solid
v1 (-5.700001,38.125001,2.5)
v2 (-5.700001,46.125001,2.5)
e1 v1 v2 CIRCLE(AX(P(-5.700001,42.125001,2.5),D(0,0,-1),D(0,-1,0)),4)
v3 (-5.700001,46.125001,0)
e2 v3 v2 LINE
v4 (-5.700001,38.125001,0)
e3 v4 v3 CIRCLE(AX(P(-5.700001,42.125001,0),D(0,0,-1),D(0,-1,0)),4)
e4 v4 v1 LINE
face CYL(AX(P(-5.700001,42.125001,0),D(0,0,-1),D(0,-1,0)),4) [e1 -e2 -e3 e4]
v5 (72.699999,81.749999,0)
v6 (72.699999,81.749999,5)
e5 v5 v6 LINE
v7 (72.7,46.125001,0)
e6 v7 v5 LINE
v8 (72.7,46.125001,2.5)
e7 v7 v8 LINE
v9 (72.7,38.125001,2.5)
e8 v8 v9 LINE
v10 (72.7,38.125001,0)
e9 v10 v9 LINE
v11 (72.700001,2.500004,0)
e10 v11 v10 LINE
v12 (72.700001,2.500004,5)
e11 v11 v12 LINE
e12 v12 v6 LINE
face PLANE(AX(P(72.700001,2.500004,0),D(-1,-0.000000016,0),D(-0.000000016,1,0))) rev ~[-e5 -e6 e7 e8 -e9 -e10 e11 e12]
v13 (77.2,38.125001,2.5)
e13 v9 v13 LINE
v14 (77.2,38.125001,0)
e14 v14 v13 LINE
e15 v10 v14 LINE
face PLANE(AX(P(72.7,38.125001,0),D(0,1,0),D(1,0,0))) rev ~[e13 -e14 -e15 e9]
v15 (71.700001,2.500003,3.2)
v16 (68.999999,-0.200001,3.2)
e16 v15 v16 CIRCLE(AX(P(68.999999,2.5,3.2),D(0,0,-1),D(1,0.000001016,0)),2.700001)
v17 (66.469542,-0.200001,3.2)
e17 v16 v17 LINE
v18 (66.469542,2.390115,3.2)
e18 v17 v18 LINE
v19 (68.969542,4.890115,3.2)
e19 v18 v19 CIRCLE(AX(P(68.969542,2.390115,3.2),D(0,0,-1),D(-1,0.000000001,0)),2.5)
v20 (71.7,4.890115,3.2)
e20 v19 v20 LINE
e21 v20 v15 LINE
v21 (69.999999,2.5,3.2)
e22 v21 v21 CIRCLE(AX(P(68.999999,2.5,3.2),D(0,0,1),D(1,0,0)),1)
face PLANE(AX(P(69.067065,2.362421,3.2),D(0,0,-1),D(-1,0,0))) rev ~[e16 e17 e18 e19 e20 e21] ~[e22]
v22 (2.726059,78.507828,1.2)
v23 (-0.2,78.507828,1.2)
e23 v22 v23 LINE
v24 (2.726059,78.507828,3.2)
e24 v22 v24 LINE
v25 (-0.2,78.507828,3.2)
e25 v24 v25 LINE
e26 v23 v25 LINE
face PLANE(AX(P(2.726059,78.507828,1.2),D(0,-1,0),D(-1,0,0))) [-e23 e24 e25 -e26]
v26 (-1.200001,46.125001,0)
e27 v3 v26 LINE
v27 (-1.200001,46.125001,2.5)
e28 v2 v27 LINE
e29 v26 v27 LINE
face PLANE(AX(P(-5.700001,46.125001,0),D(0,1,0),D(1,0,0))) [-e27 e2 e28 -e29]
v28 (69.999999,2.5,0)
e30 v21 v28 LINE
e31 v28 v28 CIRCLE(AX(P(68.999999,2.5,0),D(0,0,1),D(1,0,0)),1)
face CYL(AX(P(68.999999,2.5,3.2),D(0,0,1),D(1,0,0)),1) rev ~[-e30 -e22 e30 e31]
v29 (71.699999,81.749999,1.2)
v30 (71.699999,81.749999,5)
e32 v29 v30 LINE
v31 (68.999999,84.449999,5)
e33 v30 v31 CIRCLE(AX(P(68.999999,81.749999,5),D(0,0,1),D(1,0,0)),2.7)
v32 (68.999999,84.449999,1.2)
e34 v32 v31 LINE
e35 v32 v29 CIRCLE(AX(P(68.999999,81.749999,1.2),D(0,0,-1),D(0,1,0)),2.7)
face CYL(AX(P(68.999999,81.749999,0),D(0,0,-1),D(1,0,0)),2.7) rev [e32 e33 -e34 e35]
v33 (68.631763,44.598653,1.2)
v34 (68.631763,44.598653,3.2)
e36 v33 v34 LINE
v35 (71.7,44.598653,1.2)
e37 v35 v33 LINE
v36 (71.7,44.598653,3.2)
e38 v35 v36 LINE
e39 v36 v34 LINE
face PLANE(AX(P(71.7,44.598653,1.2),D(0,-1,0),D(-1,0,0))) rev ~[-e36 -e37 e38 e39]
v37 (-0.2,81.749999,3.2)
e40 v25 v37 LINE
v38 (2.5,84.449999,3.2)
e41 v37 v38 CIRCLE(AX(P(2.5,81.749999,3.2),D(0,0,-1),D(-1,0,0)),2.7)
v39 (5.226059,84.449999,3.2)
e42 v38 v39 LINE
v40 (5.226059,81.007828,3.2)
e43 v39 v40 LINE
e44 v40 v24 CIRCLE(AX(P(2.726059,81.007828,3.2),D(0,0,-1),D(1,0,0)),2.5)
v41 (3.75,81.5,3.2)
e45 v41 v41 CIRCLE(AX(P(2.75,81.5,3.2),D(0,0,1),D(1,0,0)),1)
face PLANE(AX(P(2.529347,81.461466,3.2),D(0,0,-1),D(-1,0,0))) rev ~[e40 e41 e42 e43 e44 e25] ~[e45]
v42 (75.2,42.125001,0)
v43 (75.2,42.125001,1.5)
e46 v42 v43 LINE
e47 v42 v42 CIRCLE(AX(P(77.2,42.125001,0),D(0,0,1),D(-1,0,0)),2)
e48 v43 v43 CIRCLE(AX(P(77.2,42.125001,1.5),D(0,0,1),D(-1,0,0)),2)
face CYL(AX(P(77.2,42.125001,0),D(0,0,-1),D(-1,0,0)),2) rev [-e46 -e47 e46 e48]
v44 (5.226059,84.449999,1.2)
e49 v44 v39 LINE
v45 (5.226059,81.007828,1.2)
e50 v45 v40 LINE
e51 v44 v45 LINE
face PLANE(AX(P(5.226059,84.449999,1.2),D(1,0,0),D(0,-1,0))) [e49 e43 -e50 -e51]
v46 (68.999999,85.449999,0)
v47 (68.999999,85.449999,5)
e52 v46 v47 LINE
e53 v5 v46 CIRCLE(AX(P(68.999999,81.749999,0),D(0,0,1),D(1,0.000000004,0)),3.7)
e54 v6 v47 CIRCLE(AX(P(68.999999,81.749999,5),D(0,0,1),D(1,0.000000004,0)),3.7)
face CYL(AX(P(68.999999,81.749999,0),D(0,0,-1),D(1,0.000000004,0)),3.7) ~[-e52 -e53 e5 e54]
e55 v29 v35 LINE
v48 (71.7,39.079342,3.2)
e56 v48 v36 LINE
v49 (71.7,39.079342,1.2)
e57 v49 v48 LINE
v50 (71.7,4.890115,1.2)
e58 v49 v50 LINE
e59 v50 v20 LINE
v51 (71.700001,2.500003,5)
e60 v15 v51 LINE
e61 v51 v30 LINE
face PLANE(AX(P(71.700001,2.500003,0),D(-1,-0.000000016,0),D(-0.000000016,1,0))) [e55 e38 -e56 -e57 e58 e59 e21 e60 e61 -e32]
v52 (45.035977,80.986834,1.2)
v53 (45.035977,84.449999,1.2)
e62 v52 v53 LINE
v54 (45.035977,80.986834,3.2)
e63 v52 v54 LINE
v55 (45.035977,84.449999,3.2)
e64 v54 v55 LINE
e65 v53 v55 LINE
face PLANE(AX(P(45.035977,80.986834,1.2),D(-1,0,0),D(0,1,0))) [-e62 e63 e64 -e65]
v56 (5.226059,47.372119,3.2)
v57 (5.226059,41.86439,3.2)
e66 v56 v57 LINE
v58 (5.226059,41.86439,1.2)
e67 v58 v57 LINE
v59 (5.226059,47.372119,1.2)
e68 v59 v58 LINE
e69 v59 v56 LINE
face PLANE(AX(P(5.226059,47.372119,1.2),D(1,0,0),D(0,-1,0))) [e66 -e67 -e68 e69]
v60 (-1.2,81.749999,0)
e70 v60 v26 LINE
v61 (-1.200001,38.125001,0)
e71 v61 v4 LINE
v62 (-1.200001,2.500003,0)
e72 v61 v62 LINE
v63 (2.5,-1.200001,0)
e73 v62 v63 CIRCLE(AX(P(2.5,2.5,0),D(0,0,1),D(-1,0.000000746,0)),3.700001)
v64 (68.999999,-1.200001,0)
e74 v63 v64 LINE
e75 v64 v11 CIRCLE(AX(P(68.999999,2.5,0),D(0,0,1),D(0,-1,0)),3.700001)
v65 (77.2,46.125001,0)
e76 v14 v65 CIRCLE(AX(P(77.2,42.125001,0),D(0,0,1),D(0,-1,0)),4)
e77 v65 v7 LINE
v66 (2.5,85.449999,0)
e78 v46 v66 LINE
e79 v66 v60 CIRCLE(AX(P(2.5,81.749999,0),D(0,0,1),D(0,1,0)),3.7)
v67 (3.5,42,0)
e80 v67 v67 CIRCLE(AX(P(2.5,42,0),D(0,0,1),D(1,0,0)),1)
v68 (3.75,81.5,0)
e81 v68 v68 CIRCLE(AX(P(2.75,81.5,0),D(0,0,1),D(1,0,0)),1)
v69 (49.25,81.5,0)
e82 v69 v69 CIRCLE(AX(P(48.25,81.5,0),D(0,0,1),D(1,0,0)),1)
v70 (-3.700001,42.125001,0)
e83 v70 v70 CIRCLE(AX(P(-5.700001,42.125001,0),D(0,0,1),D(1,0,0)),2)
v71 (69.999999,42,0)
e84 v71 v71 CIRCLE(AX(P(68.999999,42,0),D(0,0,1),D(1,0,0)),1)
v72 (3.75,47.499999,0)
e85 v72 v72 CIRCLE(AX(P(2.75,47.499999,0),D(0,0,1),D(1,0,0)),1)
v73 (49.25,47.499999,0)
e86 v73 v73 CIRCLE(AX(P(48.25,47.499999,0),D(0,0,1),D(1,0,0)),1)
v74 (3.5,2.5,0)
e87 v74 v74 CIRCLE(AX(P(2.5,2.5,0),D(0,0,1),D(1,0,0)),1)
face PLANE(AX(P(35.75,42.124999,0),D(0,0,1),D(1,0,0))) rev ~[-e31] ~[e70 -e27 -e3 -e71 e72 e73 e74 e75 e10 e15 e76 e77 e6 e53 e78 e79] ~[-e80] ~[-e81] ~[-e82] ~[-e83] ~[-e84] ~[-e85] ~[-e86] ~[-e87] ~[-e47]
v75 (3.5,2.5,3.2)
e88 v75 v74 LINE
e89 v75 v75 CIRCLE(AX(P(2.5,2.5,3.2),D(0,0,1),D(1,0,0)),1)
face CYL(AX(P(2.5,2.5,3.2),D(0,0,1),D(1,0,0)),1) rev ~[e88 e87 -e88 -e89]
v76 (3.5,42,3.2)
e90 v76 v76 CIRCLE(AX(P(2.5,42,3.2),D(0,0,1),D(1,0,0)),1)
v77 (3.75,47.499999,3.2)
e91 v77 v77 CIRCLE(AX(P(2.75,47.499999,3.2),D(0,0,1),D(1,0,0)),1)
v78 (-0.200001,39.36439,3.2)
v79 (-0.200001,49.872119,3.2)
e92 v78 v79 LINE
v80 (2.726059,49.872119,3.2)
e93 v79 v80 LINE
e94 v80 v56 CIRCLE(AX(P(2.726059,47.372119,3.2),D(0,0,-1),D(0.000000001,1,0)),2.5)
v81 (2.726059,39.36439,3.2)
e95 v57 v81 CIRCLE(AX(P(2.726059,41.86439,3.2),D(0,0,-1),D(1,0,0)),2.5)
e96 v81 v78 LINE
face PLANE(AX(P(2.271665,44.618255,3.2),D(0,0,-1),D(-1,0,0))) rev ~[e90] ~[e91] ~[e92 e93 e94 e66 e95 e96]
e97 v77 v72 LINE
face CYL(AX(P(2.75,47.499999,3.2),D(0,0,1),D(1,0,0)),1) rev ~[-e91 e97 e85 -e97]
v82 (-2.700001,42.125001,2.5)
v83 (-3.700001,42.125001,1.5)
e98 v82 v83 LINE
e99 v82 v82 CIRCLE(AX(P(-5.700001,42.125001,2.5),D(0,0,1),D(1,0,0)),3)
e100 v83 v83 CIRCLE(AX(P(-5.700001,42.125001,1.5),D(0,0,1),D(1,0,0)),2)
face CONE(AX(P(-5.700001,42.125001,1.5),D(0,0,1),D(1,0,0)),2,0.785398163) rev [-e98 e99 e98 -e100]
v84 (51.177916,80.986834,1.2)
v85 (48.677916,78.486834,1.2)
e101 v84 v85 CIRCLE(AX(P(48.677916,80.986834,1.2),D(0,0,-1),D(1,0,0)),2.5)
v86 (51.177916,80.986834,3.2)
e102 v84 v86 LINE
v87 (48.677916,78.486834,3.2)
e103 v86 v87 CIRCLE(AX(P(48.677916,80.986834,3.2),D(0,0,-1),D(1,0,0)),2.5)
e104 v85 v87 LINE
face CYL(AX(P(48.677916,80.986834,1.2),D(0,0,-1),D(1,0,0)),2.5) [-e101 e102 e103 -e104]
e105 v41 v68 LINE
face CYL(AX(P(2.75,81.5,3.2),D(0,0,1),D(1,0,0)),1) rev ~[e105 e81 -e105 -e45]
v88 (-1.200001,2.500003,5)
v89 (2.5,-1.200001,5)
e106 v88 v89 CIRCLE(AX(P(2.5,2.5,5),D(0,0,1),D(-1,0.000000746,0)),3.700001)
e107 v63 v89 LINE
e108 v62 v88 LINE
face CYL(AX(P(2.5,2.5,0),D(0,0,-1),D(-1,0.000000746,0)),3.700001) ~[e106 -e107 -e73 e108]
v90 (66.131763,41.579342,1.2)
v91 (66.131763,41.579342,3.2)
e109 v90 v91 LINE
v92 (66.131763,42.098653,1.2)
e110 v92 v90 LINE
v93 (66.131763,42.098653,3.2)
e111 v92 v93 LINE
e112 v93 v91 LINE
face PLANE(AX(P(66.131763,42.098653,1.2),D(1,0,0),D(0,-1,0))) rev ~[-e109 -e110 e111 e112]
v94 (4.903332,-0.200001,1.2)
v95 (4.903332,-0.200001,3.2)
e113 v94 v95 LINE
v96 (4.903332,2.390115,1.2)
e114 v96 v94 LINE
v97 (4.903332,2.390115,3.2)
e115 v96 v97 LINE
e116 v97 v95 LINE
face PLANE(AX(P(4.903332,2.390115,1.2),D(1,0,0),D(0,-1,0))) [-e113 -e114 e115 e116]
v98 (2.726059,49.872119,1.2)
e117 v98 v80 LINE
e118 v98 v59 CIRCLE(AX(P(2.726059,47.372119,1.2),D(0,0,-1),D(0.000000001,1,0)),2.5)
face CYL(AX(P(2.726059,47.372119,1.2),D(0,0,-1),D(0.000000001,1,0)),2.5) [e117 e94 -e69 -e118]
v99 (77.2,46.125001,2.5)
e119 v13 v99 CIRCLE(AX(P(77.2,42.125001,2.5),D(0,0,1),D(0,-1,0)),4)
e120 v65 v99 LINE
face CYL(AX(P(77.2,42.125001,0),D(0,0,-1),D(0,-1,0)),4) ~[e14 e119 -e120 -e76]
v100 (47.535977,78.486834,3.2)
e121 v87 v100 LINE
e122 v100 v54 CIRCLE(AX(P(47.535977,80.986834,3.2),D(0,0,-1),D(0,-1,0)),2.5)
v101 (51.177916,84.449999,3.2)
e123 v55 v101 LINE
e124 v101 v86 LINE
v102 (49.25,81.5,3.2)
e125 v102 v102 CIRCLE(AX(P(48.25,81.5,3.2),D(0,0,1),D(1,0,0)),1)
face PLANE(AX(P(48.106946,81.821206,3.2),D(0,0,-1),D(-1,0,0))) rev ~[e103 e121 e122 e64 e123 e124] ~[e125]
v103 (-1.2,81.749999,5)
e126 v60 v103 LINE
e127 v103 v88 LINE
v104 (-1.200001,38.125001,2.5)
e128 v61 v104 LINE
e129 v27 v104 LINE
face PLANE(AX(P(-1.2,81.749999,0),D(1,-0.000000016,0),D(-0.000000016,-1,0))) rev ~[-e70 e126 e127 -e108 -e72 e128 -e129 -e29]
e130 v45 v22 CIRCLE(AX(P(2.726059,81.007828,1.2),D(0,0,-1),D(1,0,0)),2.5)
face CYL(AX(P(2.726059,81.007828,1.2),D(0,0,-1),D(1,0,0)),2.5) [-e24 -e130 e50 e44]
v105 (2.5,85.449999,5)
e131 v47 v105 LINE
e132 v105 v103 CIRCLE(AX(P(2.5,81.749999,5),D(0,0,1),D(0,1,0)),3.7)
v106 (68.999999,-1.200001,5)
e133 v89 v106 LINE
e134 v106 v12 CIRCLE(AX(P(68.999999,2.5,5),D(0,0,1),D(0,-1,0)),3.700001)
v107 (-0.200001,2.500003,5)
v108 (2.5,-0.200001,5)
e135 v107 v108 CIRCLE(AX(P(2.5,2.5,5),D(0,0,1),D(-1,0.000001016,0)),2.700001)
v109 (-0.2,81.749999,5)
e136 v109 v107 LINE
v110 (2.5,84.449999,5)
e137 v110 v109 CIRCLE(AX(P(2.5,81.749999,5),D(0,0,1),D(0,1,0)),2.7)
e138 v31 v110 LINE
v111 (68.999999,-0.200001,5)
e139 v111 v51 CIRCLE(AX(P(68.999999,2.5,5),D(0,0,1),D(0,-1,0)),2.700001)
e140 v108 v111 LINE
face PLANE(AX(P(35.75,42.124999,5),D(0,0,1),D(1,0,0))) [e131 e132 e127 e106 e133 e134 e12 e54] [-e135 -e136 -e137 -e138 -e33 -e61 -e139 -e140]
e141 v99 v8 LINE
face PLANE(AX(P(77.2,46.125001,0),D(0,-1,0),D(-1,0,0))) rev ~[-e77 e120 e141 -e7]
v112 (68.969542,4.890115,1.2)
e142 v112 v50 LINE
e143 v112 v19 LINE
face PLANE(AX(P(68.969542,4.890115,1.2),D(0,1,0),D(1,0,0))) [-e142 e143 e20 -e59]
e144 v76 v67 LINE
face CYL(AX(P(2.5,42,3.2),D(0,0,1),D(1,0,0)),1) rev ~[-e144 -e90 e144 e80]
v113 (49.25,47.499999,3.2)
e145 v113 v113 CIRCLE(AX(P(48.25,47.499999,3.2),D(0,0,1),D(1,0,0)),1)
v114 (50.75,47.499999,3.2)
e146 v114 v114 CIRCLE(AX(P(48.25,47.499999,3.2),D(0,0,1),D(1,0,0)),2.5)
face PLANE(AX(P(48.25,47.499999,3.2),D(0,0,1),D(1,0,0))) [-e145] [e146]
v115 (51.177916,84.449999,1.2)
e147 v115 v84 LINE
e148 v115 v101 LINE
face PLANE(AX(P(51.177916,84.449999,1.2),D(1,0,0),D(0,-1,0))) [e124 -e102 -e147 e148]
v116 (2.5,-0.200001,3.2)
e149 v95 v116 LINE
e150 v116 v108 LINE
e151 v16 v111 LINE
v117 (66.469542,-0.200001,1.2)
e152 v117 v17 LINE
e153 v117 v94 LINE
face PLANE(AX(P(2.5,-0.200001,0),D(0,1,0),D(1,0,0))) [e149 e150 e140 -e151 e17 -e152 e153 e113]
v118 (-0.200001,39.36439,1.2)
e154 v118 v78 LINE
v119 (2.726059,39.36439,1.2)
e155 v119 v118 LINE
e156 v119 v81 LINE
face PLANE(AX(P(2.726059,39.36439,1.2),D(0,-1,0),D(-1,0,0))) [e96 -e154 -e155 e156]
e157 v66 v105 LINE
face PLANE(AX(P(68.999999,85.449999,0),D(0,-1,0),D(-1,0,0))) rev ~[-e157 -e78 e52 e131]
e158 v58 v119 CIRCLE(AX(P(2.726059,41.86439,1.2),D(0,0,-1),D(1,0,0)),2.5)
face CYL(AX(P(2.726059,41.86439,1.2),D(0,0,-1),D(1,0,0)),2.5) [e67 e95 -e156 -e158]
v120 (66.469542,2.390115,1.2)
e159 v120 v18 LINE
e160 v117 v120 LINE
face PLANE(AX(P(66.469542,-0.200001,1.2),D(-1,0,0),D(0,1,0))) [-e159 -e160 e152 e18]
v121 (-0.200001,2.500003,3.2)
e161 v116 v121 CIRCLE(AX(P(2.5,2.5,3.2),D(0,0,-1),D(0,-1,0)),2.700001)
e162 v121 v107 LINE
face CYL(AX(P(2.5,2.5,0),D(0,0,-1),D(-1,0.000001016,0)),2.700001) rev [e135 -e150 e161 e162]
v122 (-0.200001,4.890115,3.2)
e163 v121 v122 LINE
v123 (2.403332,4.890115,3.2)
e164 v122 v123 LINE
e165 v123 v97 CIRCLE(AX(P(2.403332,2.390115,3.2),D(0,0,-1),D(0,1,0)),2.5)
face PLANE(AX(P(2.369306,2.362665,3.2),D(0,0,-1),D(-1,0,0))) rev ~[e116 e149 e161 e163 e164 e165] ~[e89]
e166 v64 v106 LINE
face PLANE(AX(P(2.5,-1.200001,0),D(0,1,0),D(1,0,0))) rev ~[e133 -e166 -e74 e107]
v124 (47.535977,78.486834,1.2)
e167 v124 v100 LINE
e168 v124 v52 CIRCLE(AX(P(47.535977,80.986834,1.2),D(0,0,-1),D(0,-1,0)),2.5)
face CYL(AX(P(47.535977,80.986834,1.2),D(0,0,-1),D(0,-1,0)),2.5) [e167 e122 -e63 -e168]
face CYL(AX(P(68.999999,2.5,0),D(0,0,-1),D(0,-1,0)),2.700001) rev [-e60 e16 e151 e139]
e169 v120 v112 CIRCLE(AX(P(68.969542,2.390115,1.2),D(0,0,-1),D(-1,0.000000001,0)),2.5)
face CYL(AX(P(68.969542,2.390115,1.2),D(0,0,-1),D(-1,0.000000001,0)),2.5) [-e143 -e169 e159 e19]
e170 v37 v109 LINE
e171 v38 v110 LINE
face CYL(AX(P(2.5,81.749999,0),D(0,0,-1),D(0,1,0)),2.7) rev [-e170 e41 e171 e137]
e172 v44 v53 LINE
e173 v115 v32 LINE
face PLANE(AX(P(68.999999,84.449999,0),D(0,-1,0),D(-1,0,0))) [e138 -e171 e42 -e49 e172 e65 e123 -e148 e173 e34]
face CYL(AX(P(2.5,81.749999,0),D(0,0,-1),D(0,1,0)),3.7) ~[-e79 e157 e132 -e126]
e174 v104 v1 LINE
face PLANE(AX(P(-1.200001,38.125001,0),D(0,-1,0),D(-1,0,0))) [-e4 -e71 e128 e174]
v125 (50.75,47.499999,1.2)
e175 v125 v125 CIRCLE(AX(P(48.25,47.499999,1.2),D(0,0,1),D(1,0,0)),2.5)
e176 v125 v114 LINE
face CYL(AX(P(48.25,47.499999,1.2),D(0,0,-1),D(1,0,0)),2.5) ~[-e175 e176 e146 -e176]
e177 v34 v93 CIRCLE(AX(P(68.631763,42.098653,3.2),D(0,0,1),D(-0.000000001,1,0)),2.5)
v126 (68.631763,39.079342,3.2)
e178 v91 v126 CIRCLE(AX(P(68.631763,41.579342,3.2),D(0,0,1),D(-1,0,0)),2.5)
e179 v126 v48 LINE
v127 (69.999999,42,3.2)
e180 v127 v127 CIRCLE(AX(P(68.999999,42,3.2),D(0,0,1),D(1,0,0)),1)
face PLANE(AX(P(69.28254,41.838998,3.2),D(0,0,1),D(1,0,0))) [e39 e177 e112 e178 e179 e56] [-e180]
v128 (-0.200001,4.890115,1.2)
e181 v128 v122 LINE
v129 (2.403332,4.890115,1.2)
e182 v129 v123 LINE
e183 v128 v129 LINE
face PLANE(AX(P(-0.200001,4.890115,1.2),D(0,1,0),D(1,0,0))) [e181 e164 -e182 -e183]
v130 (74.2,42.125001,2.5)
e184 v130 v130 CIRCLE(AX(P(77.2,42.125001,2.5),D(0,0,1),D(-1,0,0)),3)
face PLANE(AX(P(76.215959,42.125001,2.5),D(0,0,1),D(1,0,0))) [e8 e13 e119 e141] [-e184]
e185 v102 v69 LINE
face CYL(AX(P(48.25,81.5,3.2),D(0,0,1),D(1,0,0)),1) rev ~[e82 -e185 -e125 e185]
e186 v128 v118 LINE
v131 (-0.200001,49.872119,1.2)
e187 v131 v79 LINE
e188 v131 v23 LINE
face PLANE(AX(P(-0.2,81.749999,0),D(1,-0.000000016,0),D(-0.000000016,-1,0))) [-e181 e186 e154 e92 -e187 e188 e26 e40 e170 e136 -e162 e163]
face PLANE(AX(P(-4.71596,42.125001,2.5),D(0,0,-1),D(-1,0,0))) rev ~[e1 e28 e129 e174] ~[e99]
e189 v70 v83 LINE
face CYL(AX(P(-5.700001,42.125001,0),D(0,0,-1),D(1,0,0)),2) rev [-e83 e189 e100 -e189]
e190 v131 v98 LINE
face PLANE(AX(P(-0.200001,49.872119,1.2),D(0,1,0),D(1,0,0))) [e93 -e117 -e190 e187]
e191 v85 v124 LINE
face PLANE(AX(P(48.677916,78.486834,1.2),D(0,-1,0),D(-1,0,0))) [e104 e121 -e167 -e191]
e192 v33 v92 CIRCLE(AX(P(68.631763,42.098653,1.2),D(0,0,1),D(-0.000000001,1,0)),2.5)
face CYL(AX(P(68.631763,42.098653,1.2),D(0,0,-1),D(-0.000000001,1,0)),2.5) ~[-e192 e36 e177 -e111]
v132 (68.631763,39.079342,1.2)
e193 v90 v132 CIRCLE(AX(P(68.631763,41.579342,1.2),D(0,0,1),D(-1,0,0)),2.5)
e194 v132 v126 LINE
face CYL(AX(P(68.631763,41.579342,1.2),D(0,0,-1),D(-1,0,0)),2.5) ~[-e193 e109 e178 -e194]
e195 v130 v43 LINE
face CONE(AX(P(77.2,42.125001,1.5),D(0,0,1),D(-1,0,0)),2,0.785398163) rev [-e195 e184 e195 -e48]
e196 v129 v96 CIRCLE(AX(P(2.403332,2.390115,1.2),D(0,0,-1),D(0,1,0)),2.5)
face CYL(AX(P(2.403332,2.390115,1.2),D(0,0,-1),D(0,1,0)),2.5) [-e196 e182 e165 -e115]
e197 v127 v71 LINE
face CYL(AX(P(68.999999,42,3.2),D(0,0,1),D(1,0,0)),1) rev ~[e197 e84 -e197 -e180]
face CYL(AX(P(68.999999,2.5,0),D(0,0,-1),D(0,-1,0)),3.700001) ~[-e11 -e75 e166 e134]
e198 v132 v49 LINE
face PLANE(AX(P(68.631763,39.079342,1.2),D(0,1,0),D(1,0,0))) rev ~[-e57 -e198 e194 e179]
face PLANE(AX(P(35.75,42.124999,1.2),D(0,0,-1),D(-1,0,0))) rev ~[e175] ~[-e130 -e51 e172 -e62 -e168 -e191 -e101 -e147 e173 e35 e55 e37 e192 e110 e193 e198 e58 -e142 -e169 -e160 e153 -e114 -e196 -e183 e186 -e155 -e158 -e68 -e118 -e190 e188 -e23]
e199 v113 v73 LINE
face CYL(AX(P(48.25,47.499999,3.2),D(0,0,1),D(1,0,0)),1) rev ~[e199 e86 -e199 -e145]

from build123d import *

# Parameters (mm, degrees)
EXTRUDE_1_DEPTH     = 1.2
EXTRUDE_2_DEPTH     = 5
SKETCH_6_R          = 2.5
EXTRUDE_3_DEPTH     = 2
SKETCH_7_R          = 1
CUT_EXTRUDE_1_DEPTH = 113.237393177
SKETCH_8_R          = 2
EXTRUDE_4_DEPTH     = 2.5
CHAMFER_1_SIZE      = 1


with BuildPart() as part:
    # Эскиз4 → Бобышка-Вытянуть1 (new body)
    with BuildSketch(Plane.XY):
        with BuildLine():
            Line((71.69999924, 81.74999906), (71.70000051, 2.500002823))
            ThreePointArc((71.70000051, 2.500002823), (70.909189394, 0.590811786), (68.99999916, -0.20000127))
            Line((68.99999916, -0.20000127), (2.50000008, -0.20000127))
            ThreePointArc((2.50000008, -0.20000127), (0.590809846, 0.590811786), (-0.20000127, 2.500002823))
            Line((-0.20000127, 2.500002823), (-0.2, 81.74999906))
            ThreePointArc((-0.2, 81.74999906), (0.590811714, 83.659187426), (2.50000008, 84.44999914))
            Line((2.50000008, 84.44999914), (68.99999916, 84.44999914))
            ThreePointArc((68.99999916, 84.44999914), (70.909187526, 83.659187426), (71.69999924, 81.74999906))
        make_face()
    extrude(amount=EXTRUDE_1_DEPTH)

    # Эскиз5 → Бобышка-Вытянуть2 (add)
    with BuildSketch(Plane.XY):
        with BuildLine():
            Line((-1.2, 81.74999906), (-1.20000127, 2.500002839))
            ThreePointArc((-1.20000127, 2.500002839), (-0.116296941, -0.116294989), (2.50000008, -1.20000127))
            Line((2.50000008, -1.20000127), (68.99999916, -1.20000127))
            ThreePointArc((68.99999916, -1.20000127), (71.616296534, -0.116294636), (72.70000051, 2.500003839))
            Line((72.70000051, 2.500003839), (72.69999924, 81.749999076))
            ThreePointArc((72.69999924, 81.749999076), (71.616294301, 84.366294213), (68.99999916, 85.44999914))
            Line((68.99999916, 85.44999914), (2.50000008, 85.44999914))
            ThreePointArc((2.50000008, 85.44999914), (-0.116295067, 84.366294207), (-1.2, 81.74999906))
        make_face()
        with BuildLine():
            Line((-0.2, 81.74999906), (-0.20000127, 2.500002823))
            ThreePointArc((-0.20000127, 2.500002823), (0.590809846, 0.590811786), (2.50000008, -0.20000127))
            Line((2.50000008, -0.20000127), (68.99999916, -0.20000127))
            ThreePointArc((68.99999916, -0.20000127), (70.909189394, 0.590811786), (71.70000051, 2.500002823))
            Line((71.70000051, 2.500002823), (71.69999924, 81.74999906))
            ThreePointArc((71.69999924, 81.74999906), (70.909187526, 83.659187426), (68.99999916, 84.44999914))
            Line((68.99999916, 84.44999914), (2.50000008, 84.44999914))
            ThreePointArc((2.50000008, 84.44999914), (0.590811714, 83.659187426), (-0.2, 81.74999906))
        make_face(mode=Mode.SUBTRACT)
    extrude(amount=EXTRUDE_2_DEPTH)

    # Эскиз6 → Бобышка-Вытянуть3 (add)
    with BuildSketch(Plane.XY.offset(1.2)):
        with Locations((48.25000002, 47.49999898)):
            Circle(SKETCH_6_R)
        with BuildLine():
            Line((2.50000008, 84.44999914), (5.226059178, 84.44999914))
            Line((5.226059178, 84.44999914), (5.226059178, 81.007828318))
            ThreePointArc((5.226059178, 81.007828318), (4.493826131, 79.240061365), (2.726059178, 78.507828318))
            Line((2.726059178, 78.507828318), (-0.200000052, 78.507828318))
            Line((-0.200000052, 78.507828318), (-0.2, 81.74999906))
            ThreePointArc((-0.2, 81.74999906), (0.590811714, 83.659187426), (2.50000008, 84.44999914))
        make_face()
        with BuildLine():
            Line((-0.20000127, 2.500002823), (-0.200001232, 4.890114712))
            Line((-0.200001232, 4.890114712), (2.403331994, 4.890114712))
            ThreePointArc((2.403331994, 4.890114712), (4.171098947, 4.157881665), (4.903331994, 2.390114712))
            Line((4.903331994, 2.390114712), (4.903331994, -0.20000127))
            Line((4.903331994, -0.20000127), (2.50000008, -0.20000127))
            ThreePointArc((2.50000008, -0.20000127), (0.590809846, 0.590811786), (-0.20000127, 2.500002823))
        make_face()
        with BuildLine():
            Line((-0.200000511, 49.872119205), (2.726059178, 49.872119205))
            ThreePointArc((2.726059178, 49.872119205), (4.493826131, 49.139886157), (5.226059178, 47.372119205))
            Line((5.226059178, 47.372119205), (5.226059178, 41.864390239))
            ThreePointArc((5.226059178, 41.864390239), (4.493826131, 40.096623286), (2.726059178, 39.364390239))
            Line((2.726059178, 39.364390239), (-0.200000511, 39.364390239))
            Line((-0.200000511, 39.364390239), (-0.200000511, 49.872119205))
        make_face()
        with BuildLine():
            Line((68.99999916, -0.20000127), (66.469541981, -0.20000127))
            Line((66.469541981, -0.20000127), (66.469541981, 2.390114712))
            ThreePointArc((66.469541981, 2.390114712), (67.201775029, 4.157881665), (68.969541981, 4.890114712))
            Line((68.969541981, 4.890114712), (71.700000472, 4.890114712))
            Line((71.700000472, 4.890114712), (71.70000051, 2.500002823))
            ThreePointArc((71.70000051, 2.500002823), (70.909189394, 0.590811786), (68.99999916, -0.20000127))
        make_face()
        with BuildLine():
            Line((45.035976698, 84.44999914), (51.177915607, 84.44999914))
            Line((51.177915607, 84.44999914), (51.177915607, 80.986834439))
            ThreePointArc((51.177915607, 80.986834439), (50.44568256, 79.219067486), (48.677915607, 78.486834439))
            Line((48.677915607, 78.486834439), (47.535976698, 78.486834439))
            ThreePointArc((47.535976698, 78.486834439), (45.768209745, 79.219067486), (45.035976698, 80.986834439))
            Line((45.035976698, 80.986834439), (45.035976698, 84.44999914))
        make_face()
        with BuildLine():
            Line((71.699999835, 44.598653312), (68.631763305, 44.598653312))
            ThreePointArc((68.631763305, 44.598653312), (66.863996352, 43.866420264), (66.131763305, 42.098653312))
            Line((66.131763305, 42.098653312), (66.131763305, 41.579341714))
            ThreePointArc((66.131763305, 41.579341714), (66.863996352, 39.811574761), (68.631763305, 39.079341714))
            Line((68.631763305, 39.079341714), (71.699999835, 39.079341714))
            Line((71.699999835, 39.079341714), (71.699999835, 44.598653312))
        make_face()
    extrude(amount=EXTRUDE_3_DEPTH)

    # Эскиз7 → Вырез-Вытянуть1 (cut, through all)
    with BuildSketch(Plane.XY.offset(3.2)):
        with Locations((2.74999958, 81.49999956)):
            Circle(SKETCH_7_R)
        with Locations((48.25000002, 81.49999956)):
            Circle(SKETCH_7_R)
        with Locations((48.25000002, 47.49999898)):
            Circle(SKETCH_7_R)
        with Locations((68.99999916, 41.99999982)):
            Circle(SKETCH_7_R)
        with Locations((2.74999958, 47.49999898)):
            Circle(SKETCH_7_R)
        with Locations((2.50000008, 41.99999982)):
            Circle(SKETCH_7_R)
        with Locations((2.50000008, 2.50000008)):
            Circle(SKETCH_7_R)
        with Locations((68.99999916, 2.50000008)):
            Circle(SKETCH_7_R)
    extrude(amount=-CUT_EXTRUDE_1_DEPTH, mode=Mode.SUBTRACT)

    # Эскиз8 → Бобышка-Вытянуть4 (add)
    # profile 1 of 2: a face of its own
    with BuildSketch(Plane.XY):
        with BuildLine():
            Line((-5.700000635, 46.12500095), (-1.200000571, 46.12500095))
            Line((-1.200000571, 46.12500095), (-1.200000699, 38.12500095))
            Line((-1.200000699, 38.12500095), (-5.700000635, 38.12500095))
            ThreePointArc((-5.700000635, 38.12500095), (-9.700000635, 42.12500095), (-5.700000635, 46.12500095))
        make_face()
        with Locations((-5.700000635, 42.12500095)):
            Circle(SKETCH_8_R, mode=Mode.SUBTRACT)
    # profile 2 of 2: a face of its own
    with BuildSketch(Plane.XY):
        with BuildLine():
            Line((72.699999939, 38.12500095), (77.199999875, 38.12500095))
            ThreePointArc((77.199999875, 38.12500095), (81.199999875, 42.12500095), (77.199999875, 46.12500095))
            Line((77.199999875, 46.12500095), (72.699999811, 46.12500095))
            Line((72.699999811, 46.12500095), (72.699999939, 38.12500095))
        make_face()
        with Locations(Location((77.199999875, 42.12500095, 0), (0, 0, 180))):
            Circle(SKETCH_8_R, mode=Mode.SUBTRACT)
    extrude(amount=EXTRUDE_4_DEPTH)

    # Фаска1
    chamfer_1_edges = [part.edges().sort_by_distance(p)[0] for p in [
        (-7.700000635, 42.12500095, 2.5),
        (79.199999875, 42.12500095, 2.5),
    ]]
    chamfer(chamfer_1_edges, length=CHAMFER_1_SIZE)


solid = part.part
